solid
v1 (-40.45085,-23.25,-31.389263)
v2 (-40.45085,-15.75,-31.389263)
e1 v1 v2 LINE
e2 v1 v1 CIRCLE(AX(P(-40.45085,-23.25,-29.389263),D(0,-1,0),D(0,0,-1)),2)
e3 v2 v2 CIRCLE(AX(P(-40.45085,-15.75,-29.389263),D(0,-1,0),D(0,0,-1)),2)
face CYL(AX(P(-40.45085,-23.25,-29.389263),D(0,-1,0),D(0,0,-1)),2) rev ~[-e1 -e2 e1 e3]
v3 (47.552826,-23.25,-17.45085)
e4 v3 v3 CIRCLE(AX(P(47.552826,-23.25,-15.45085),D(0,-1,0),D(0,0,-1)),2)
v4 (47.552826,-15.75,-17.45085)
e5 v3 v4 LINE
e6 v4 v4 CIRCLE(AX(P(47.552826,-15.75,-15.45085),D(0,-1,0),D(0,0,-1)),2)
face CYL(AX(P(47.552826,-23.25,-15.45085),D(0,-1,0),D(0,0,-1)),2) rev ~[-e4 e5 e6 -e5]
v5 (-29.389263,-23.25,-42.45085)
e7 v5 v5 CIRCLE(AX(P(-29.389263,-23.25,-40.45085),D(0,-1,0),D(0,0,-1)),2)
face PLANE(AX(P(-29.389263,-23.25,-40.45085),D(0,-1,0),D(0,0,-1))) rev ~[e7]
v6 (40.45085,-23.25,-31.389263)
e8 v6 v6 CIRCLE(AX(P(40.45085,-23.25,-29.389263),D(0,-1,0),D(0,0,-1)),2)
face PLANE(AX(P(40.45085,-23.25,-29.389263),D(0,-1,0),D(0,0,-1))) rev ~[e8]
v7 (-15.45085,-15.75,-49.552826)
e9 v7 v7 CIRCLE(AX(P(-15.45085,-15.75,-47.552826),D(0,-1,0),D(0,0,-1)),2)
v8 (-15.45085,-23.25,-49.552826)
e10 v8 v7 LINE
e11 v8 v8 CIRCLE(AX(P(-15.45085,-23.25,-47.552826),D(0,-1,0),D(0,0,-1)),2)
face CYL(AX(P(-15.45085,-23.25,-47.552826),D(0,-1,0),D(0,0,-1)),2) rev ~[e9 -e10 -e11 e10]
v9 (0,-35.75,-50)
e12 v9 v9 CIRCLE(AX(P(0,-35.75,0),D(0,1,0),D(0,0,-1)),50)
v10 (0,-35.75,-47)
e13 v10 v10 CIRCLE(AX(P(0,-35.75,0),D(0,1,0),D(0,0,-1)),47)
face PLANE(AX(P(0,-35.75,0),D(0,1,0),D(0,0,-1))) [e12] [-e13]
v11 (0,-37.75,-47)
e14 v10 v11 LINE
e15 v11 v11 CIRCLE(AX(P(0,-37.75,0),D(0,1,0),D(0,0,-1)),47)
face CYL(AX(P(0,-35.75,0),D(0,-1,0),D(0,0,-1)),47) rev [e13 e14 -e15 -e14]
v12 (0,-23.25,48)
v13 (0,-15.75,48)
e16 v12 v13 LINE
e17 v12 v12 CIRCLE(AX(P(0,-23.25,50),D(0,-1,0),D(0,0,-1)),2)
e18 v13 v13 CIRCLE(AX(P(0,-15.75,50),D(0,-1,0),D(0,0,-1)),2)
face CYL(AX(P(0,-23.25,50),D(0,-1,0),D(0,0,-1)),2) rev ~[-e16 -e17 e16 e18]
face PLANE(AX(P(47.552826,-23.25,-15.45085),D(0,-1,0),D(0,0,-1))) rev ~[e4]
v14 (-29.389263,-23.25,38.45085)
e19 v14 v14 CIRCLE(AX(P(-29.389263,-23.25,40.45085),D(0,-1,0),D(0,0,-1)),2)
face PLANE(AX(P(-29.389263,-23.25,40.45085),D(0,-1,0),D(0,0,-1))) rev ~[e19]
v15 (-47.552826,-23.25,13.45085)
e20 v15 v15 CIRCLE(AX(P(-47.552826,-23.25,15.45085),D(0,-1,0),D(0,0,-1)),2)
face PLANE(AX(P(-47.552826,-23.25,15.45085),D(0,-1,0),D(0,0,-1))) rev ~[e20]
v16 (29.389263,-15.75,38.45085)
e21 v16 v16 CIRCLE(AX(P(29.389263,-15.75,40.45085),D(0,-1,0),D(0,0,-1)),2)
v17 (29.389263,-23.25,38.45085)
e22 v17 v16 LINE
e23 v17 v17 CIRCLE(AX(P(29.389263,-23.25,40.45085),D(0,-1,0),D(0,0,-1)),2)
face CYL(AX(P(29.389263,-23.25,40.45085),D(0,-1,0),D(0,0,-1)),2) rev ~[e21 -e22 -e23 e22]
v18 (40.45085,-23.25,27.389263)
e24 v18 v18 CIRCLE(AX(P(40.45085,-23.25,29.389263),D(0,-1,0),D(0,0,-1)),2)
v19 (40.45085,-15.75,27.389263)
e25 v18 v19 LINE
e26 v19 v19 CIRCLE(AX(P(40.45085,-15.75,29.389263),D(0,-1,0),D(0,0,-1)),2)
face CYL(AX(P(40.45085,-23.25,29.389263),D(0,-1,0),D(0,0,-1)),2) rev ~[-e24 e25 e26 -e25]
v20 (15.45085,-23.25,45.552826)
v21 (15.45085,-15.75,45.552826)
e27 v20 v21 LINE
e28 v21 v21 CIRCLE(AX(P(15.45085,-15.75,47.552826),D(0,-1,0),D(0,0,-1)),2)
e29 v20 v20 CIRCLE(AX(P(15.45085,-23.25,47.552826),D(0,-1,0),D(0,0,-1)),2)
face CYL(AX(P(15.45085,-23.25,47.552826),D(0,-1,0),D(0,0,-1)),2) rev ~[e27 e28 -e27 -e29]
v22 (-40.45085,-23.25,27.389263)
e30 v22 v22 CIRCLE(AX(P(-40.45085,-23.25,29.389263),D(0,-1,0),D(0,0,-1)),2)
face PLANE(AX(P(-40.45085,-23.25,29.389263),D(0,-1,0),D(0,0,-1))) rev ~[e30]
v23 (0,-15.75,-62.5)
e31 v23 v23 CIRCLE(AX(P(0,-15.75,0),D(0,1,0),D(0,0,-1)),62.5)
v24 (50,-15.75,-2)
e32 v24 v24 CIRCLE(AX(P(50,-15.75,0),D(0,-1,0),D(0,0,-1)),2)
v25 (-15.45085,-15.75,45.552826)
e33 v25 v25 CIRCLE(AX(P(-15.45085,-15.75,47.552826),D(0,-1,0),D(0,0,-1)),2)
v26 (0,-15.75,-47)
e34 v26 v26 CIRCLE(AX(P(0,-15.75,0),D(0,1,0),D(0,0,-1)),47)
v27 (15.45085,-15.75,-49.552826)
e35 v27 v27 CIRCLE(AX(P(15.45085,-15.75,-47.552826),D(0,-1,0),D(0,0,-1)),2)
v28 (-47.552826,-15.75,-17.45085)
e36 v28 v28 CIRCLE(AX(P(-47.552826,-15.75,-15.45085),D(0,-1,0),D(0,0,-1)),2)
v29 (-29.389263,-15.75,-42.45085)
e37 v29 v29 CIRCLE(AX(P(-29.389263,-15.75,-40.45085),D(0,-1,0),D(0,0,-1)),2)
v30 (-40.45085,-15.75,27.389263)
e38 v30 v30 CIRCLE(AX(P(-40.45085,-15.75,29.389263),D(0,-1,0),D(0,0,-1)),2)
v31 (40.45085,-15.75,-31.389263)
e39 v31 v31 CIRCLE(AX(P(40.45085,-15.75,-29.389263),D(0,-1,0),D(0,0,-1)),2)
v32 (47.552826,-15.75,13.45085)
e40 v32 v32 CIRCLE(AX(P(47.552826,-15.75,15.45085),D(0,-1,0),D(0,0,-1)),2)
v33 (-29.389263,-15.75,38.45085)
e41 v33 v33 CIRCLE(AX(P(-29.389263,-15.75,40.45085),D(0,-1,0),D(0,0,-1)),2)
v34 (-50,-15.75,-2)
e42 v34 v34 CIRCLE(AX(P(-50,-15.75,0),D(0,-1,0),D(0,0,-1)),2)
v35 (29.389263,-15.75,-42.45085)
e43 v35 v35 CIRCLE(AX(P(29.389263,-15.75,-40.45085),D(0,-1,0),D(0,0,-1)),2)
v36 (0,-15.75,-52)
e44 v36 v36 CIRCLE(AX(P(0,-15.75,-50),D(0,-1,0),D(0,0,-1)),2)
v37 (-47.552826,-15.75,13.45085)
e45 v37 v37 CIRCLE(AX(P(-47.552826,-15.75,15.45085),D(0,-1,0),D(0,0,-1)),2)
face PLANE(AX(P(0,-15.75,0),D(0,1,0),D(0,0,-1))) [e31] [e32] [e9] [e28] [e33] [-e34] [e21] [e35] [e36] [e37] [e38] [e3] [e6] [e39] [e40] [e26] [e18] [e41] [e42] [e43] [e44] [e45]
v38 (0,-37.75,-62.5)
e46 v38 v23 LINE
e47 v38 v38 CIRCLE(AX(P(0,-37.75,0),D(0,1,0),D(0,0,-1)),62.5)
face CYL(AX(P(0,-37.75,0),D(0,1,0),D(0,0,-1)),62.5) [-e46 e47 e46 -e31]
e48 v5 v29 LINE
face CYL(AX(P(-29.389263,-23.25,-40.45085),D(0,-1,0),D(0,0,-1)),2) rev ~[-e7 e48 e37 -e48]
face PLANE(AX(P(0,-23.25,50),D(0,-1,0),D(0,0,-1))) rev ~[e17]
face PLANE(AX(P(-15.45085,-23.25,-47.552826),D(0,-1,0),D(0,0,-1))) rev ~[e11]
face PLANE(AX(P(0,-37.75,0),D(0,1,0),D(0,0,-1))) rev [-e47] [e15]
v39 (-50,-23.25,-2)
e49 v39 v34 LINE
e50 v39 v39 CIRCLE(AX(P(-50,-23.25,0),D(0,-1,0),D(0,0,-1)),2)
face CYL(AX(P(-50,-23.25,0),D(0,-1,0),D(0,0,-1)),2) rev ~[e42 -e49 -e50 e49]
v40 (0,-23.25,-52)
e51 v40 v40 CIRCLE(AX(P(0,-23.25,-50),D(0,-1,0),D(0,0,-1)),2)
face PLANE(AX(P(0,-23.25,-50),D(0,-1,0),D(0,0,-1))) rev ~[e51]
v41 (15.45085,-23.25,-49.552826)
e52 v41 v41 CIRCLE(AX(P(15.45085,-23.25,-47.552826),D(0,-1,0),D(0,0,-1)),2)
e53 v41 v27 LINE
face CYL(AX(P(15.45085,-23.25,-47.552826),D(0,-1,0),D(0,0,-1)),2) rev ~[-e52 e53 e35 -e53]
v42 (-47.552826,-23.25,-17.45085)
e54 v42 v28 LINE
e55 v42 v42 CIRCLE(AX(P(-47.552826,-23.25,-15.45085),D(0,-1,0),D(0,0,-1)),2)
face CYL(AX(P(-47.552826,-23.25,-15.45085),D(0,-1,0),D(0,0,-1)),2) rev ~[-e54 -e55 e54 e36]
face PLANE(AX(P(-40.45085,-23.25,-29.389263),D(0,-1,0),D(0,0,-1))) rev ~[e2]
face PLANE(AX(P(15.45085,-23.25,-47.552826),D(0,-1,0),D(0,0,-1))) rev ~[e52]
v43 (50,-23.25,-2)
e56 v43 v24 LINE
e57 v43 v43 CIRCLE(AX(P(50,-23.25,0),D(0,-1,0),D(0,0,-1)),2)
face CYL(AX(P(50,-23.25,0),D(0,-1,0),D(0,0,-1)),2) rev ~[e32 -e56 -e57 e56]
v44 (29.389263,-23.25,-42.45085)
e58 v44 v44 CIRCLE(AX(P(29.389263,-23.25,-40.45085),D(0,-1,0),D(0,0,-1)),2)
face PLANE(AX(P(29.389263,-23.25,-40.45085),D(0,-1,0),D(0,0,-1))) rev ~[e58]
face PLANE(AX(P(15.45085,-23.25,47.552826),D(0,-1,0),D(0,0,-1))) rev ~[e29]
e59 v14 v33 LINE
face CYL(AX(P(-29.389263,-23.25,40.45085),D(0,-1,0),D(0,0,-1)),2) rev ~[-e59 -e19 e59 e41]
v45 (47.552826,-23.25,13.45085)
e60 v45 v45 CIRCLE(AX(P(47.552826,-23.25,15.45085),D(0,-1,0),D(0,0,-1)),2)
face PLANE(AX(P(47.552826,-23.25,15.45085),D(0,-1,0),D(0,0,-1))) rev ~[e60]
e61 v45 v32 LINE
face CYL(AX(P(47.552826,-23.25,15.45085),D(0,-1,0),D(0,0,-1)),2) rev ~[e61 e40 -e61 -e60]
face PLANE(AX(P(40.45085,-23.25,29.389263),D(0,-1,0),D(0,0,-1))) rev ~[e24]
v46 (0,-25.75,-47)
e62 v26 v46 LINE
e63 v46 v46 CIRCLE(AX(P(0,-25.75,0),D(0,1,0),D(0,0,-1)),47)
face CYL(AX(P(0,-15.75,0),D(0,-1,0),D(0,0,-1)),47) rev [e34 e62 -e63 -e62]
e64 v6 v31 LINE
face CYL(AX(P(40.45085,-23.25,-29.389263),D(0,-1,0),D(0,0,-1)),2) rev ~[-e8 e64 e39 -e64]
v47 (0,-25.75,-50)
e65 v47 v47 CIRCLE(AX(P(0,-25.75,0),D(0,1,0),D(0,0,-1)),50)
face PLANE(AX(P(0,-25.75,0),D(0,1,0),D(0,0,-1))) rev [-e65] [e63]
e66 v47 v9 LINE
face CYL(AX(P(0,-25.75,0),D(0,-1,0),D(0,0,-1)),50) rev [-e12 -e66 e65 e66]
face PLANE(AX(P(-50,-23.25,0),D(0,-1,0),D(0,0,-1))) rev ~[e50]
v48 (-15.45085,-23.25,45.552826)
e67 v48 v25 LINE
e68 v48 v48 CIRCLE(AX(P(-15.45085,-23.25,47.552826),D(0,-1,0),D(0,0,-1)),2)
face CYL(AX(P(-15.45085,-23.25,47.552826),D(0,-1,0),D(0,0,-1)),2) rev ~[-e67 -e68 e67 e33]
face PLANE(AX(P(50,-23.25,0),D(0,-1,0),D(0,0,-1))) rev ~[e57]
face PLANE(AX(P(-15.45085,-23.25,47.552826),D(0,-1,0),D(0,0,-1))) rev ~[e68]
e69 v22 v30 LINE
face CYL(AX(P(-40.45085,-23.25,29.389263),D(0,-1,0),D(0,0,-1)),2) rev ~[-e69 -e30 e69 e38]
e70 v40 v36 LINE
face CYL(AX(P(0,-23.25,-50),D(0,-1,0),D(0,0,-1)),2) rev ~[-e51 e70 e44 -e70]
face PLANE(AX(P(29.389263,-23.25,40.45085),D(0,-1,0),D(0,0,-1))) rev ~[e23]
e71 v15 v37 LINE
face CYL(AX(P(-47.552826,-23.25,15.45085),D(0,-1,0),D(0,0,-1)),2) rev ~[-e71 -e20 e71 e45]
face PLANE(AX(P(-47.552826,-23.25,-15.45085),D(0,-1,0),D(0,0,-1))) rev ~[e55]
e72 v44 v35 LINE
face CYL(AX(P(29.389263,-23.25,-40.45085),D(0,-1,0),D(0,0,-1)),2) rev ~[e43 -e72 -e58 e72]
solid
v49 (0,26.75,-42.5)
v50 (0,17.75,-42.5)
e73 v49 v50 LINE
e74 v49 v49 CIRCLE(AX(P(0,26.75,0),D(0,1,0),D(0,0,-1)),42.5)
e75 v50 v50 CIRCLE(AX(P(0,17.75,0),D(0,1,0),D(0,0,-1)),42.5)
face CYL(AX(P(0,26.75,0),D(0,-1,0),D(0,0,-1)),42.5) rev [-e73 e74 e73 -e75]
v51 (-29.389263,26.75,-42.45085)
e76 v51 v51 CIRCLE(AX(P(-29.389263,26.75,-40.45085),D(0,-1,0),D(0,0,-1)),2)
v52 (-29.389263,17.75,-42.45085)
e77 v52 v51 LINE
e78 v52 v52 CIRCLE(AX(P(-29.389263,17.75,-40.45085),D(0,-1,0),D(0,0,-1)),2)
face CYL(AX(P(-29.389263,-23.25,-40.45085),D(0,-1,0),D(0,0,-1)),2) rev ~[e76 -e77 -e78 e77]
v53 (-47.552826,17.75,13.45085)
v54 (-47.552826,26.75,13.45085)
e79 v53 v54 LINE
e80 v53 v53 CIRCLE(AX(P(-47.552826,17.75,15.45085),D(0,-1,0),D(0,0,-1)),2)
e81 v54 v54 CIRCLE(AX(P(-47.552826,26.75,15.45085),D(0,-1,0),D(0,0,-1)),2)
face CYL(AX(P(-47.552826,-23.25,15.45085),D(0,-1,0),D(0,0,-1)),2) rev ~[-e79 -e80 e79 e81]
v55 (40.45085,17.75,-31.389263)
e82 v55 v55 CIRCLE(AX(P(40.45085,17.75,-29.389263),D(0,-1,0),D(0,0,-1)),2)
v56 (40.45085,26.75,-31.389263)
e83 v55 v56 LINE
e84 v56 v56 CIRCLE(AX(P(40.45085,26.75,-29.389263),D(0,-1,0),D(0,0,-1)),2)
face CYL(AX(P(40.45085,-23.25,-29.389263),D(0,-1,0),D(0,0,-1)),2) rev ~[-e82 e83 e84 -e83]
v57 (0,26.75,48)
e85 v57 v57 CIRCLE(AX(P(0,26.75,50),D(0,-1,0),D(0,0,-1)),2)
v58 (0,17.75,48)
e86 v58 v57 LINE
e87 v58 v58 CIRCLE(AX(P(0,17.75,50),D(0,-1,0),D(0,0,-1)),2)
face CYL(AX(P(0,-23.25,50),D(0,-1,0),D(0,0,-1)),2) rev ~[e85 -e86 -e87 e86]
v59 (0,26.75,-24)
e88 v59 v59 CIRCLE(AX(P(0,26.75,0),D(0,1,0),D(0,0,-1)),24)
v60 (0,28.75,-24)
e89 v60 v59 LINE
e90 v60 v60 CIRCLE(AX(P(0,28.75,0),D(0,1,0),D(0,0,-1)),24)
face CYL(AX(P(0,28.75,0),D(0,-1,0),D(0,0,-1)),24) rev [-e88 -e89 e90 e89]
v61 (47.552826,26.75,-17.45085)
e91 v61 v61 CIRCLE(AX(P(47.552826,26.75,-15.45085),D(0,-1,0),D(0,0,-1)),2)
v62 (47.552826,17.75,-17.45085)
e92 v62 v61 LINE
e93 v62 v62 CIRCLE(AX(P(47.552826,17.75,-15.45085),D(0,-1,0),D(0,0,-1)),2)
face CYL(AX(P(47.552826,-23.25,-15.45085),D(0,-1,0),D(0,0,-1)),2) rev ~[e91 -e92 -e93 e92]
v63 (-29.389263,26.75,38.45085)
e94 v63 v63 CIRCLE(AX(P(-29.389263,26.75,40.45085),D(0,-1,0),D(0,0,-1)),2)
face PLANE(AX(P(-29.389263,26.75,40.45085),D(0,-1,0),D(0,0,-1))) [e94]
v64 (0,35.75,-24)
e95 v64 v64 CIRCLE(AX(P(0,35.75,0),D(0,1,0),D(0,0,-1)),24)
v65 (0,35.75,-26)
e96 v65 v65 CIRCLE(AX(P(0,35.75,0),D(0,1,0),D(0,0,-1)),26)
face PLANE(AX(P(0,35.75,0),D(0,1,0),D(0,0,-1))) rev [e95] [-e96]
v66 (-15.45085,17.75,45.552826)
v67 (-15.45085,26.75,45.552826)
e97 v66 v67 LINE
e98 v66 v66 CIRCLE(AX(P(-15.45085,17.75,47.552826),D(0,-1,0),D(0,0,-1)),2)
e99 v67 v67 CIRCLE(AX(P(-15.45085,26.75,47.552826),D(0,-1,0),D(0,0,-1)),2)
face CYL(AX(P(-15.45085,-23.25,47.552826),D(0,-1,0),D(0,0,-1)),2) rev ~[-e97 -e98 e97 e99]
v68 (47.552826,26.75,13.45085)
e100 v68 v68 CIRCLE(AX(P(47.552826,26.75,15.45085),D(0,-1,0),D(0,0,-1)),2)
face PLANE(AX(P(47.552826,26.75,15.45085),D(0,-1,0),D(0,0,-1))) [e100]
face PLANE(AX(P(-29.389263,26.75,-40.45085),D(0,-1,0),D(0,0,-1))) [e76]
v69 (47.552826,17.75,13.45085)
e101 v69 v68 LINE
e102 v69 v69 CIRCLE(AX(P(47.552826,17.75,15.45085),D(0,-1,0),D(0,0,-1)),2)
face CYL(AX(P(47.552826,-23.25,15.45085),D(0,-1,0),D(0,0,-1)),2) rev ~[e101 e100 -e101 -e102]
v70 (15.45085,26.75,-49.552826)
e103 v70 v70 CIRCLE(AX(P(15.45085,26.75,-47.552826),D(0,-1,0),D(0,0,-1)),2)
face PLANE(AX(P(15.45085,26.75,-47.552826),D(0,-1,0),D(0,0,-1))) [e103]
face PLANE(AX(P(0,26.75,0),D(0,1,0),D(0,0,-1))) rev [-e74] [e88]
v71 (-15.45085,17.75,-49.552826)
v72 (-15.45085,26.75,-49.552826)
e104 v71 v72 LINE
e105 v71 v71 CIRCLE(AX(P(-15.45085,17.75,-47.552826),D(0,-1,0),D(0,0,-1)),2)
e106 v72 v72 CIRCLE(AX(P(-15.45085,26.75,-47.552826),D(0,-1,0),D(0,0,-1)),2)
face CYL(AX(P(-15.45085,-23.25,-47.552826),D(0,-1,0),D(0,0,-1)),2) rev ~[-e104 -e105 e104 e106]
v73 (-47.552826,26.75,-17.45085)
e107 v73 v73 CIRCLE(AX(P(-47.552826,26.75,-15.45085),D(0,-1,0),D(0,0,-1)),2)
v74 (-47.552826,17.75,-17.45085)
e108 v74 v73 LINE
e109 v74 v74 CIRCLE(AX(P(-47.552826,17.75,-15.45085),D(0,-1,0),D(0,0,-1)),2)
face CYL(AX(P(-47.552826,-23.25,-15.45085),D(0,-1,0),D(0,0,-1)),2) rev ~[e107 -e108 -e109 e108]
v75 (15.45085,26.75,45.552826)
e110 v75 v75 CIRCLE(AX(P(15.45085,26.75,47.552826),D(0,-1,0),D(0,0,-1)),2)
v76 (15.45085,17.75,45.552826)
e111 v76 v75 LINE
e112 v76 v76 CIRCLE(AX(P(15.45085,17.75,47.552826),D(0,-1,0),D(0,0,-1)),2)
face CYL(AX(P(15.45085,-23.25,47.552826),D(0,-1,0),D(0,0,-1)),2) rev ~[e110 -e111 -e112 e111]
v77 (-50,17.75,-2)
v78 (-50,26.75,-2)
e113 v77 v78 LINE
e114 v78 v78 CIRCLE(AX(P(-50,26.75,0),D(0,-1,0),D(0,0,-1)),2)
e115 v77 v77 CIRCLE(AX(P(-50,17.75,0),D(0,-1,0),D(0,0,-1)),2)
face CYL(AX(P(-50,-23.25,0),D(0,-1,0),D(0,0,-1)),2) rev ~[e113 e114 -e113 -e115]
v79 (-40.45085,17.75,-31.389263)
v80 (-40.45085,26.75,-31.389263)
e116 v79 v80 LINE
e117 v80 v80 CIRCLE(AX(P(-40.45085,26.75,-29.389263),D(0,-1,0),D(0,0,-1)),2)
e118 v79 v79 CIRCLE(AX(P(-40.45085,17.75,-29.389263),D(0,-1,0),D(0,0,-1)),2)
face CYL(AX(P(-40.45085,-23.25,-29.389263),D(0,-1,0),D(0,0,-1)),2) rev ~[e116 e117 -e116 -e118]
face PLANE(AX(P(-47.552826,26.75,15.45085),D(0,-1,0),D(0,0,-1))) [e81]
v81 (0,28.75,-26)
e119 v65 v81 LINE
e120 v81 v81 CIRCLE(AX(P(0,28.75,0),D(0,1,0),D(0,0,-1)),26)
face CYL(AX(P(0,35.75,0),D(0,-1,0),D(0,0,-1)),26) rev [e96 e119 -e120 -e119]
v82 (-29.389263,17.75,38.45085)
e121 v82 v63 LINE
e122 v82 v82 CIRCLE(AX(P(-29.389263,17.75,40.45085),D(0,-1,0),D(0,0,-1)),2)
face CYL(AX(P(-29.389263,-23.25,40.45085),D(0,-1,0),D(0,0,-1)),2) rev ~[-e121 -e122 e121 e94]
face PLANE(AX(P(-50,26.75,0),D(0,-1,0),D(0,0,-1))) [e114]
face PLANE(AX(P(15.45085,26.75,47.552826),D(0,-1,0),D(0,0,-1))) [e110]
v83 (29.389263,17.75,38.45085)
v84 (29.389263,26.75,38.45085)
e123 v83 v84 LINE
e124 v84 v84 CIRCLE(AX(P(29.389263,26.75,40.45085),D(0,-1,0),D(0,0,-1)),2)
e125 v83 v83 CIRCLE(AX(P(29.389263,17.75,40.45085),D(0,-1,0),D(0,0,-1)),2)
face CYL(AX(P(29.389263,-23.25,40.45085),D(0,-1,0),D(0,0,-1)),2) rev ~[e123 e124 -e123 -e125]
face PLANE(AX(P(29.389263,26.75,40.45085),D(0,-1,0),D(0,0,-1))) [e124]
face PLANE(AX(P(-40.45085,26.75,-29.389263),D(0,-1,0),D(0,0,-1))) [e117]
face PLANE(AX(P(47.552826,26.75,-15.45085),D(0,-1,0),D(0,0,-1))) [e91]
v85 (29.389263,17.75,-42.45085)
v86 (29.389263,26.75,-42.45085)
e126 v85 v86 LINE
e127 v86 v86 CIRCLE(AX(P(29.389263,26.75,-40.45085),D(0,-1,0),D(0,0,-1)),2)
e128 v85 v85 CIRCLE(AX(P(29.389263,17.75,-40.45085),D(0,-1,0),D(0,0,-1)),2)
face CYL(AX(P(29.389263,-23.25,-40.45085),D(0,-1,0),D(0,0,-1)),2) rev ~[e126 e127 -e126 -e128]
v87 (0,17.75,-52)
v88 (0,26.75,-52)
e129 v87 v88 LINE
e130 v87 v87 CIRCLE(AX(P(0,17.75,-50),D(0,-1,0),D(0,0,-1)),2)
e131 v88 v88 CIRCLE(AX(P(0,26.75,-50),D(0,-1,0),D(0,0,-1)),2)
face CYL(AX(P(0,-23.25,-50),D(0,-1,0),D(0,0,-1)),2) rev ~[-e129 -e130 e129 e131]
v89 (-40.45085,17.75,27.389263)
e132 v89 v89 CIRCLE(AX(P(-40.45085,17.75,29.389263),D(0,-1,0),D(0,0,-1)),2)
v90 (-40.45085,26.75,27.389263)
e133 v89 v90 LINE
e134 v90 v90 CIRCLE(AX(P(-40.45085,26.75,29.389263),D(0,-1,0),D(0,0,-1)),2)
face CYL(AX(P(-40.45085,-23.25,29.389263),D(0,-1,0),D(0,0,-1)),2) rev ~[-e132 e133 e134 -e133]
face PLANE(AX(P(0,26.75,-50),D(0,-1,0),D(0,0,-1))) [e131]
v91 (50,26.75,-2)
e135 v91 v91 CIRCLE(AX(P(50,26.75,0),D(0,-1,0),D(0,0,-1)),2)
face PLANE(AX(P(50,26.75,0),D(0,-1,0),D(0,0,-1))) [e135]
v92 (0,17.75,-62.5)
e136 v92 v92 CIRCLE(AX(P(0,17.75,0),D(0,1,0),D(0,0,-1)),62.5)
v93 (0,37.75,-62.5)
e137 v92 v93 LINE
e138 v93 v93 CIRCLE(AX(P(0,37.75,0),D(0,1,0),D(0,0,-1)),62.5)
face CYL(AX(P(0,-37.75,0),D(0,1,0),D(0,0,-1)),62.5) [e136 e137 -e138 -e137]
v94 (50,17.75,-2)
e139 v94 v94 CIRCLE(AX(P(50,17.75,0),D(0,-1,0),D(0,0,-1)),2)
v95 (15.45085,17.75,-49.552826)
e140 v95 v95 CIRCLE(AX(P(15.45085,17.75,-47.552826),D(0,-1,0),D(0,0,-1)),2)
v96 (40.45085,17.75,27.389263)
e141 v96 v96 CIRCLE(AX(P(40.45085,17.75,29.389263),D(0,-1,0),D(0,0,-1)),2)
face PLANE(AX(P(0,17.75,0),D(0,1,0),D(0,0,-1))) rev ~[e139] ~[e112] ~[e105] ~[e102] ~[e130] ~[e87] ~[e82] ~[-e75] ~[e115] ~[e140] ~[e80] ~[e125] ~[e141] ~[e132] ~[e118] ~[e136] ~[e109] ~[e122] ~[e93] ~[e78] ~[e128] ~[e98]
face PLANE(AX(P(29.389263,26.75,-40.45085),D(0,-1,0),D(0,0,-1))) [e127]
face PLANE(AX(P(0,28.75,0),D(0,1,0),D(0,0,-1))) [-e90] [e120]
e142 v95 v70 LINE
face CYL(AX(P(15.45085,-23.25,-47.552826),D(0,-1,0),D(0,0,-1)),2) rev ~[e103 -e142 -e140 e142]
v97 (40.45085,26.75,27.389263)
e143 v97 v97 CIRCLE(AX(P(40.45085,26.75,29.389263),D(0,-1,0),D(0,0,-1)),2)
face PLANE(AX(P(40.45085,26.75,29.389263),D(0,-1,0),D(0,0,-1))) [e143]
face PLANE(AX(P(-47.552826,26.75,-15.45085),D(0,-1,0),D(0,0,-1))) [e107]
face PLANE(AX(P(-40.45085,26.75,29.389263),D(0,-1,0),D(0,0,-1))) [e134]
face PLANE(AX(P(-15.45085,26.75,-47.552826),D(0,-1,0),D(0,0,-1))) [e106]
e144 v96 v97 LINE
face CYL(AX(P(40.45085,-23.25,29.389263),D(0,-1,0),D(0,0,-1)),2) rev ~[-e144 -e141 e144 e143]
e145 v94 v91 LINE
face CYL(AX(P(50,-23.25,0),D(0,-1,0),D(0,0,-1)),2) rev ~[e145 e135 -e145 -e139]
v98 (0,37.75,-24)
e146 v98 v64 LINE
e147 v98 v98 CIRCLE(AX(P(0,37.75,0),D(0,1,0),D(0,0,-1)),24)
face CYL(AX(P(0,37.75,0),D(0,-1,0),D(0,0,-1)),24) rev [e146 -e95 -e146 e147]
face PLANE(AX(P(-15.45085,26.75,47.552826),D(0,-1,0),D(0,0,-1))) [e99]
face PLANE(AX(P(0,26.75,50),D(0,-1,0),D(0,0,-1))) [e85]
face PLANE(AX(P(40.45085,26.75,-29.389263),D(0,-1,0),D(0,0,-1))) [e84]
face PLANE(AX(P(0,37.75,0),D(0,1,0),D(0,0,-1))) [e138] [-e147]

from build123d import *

# Parameters (mm, degrees)
CUT_EXTRUDE5_START = -2.5
SKETCH3_R          = 2
CUT_EXTRUDE5_DEPTH = 50
CUT_EXTRUDE6_START = 33.5
SKETCH5_R          = 62.5
CUT_EXTRUDE6_DEPTH = 33.5


with BuildPart() as part:
    # Sketch2 → Revolve1 (revolve)
    with BuildSketch(Plane(origin=(0, 0, 0), x_dir=(0, 0, -1), z_dir=(1, 0, 0))):
        Polygon((47, -37.75), (62.5, -37.75), (62.5, 37.75), (24, 37.75), (24, 35.75), (26, 35.75), (26, 28.75), (24, 28.75), (24, 26.75), (42.5, 26.75), (42.5, 17.75), (53, 17.75), (53, -15.75), (47, -15.75), (47, -25.75), (50, -25.75), (50, -35.75), (47, -35.75), align=None)
    revolve(axis=Axis((0, -15.437269333, 0), (0, 1, 0)))

    # Sketch3 → Cut-Extrude5 (cut)
    with BuildSketch(Plane.XZ.offset(25.75).offset(CUT_EXTRUDE5_START)):
        with Locations(Location((-47.552825815, 15.450849719, 0), (0, 0, 270))):
            Circle(SKETCH3_R)
        with Locations(Location((-40.450849719, 29.389262615, 0), (0, 0, 270))):
            Circle(SKETCH3_R)
        with Locations(Location((-29.389262615, 40.450849719, 0), (0, 0, 270))):
            Circle(SKETCH3_R)
        with Locations(Location((-15.450849719, 47.552825815, 0), (0, 0, 270))):
            Circle(SKETCH3_R)
        with Locations(Location((0, 50, 0), (0, 0, 270))):
            Circle(SKETCH3_R)
        with Locations(Location((15.450849719, 47.552825815, 0), (0, 0, 270))):
            Circle(SKETCH3_R)
        with Locations(Location((29.389262615, 40.450849719, 0), (0, 0, 270))):
            Circle(SKETCH3_R)
        with Locations(Location((40.450849719, 29.389262615, 0), (0, 0, 270))):
            Circle(SKETCH3_R)
        with Locations(Location((47.552825815, 15.450849719, 0), (0, 0, 270))):
            Circle(SKETCH3_R)
        with Locations(Location((50, 0, 0), (0, 0, 270))):
            Circle(SKETCH3_R)
        with Locations(Location((47.552825815, -15.450849719, 0), (0, 0, 270))):
            Circle(SKETCH3_R)
        with Locations(Location((40.450849719, -29.389262615, 0), (0, 0, 270))):
            Circle(SKETCH3_R)
        with Locations(Location((29.389262615, -40.450849719, 0), (0, 0, 270))):
            Circle(SKETCH3_R)
        with Locations(Location((15.450849719, -47.552825815, 0), (0, 0, 270))):
            Circle(SKETCH3_R)
        with Locations(Location((0, -50, 0), (0, 0, 270))):
            Circle(SKETCH3_R)
        with Locations(Location((-15.450849719, -47.552825815, 0), (0, 0, 270))):
            Circle(SKETCH3_R)
        with Locations(Location((-29.389262615, -40.450849719, 0), (0, 0, 270))):
            Circle(SKETCH3_R)
        with Locations(Location((-40.450849719, -29.389262615, 0), (0, 0, 270))):
            Circle(SKETCH3_R)
        with Locations(Location((-47.552825815, -15.450849719, 0), (0, 0, 270))):
            Circle(SKETCH3_R)
        with Locations(Location((-50, 0, 0), (0, 0, 270))):
            Circle(SKETCH3_R)
    extrude(amount=-CUT_EXTRUDE5_DEPTH, mode=Mode.SUBTRACT)

    # Sketch5 → Cut-Extrude6 (cut)
    with BuildSketch(Plane(origin=(0, -15.75, 0), x_dir=(1, 0, 0), z_dir=(0, 1, 0)).offset(CUT_EXTRUDE6_START)):
        with Locations(Location((0, 0, 0), (0, 0, 90))):
            Circle(SKETCH5_R)
    extrude(amount=-CUT_EXTRUDE6_DEPTH, mode=Mode.SUBTRACT)


with BuildPart() as cut_extrude6_piece_1:
    # of the separate pieces the step leaves, piece 1, a body of its own (cut_extrude6_pieces)
    add(part.part.solids().sort_by_distance((0, 17.75, -62.5))[0])


with BuildPart() as cut_extrude6_piece_2:
    # of the separate pieces the step leaves, piece 2, a body of its own (cut_extrude6_pieces)
    add(part.part.solids().sort_by_distance((0, -37.75, -47))[0])


solid = Compound([cut_extrude6_piece_1.part, cut_extrude6_piece_2.part])
